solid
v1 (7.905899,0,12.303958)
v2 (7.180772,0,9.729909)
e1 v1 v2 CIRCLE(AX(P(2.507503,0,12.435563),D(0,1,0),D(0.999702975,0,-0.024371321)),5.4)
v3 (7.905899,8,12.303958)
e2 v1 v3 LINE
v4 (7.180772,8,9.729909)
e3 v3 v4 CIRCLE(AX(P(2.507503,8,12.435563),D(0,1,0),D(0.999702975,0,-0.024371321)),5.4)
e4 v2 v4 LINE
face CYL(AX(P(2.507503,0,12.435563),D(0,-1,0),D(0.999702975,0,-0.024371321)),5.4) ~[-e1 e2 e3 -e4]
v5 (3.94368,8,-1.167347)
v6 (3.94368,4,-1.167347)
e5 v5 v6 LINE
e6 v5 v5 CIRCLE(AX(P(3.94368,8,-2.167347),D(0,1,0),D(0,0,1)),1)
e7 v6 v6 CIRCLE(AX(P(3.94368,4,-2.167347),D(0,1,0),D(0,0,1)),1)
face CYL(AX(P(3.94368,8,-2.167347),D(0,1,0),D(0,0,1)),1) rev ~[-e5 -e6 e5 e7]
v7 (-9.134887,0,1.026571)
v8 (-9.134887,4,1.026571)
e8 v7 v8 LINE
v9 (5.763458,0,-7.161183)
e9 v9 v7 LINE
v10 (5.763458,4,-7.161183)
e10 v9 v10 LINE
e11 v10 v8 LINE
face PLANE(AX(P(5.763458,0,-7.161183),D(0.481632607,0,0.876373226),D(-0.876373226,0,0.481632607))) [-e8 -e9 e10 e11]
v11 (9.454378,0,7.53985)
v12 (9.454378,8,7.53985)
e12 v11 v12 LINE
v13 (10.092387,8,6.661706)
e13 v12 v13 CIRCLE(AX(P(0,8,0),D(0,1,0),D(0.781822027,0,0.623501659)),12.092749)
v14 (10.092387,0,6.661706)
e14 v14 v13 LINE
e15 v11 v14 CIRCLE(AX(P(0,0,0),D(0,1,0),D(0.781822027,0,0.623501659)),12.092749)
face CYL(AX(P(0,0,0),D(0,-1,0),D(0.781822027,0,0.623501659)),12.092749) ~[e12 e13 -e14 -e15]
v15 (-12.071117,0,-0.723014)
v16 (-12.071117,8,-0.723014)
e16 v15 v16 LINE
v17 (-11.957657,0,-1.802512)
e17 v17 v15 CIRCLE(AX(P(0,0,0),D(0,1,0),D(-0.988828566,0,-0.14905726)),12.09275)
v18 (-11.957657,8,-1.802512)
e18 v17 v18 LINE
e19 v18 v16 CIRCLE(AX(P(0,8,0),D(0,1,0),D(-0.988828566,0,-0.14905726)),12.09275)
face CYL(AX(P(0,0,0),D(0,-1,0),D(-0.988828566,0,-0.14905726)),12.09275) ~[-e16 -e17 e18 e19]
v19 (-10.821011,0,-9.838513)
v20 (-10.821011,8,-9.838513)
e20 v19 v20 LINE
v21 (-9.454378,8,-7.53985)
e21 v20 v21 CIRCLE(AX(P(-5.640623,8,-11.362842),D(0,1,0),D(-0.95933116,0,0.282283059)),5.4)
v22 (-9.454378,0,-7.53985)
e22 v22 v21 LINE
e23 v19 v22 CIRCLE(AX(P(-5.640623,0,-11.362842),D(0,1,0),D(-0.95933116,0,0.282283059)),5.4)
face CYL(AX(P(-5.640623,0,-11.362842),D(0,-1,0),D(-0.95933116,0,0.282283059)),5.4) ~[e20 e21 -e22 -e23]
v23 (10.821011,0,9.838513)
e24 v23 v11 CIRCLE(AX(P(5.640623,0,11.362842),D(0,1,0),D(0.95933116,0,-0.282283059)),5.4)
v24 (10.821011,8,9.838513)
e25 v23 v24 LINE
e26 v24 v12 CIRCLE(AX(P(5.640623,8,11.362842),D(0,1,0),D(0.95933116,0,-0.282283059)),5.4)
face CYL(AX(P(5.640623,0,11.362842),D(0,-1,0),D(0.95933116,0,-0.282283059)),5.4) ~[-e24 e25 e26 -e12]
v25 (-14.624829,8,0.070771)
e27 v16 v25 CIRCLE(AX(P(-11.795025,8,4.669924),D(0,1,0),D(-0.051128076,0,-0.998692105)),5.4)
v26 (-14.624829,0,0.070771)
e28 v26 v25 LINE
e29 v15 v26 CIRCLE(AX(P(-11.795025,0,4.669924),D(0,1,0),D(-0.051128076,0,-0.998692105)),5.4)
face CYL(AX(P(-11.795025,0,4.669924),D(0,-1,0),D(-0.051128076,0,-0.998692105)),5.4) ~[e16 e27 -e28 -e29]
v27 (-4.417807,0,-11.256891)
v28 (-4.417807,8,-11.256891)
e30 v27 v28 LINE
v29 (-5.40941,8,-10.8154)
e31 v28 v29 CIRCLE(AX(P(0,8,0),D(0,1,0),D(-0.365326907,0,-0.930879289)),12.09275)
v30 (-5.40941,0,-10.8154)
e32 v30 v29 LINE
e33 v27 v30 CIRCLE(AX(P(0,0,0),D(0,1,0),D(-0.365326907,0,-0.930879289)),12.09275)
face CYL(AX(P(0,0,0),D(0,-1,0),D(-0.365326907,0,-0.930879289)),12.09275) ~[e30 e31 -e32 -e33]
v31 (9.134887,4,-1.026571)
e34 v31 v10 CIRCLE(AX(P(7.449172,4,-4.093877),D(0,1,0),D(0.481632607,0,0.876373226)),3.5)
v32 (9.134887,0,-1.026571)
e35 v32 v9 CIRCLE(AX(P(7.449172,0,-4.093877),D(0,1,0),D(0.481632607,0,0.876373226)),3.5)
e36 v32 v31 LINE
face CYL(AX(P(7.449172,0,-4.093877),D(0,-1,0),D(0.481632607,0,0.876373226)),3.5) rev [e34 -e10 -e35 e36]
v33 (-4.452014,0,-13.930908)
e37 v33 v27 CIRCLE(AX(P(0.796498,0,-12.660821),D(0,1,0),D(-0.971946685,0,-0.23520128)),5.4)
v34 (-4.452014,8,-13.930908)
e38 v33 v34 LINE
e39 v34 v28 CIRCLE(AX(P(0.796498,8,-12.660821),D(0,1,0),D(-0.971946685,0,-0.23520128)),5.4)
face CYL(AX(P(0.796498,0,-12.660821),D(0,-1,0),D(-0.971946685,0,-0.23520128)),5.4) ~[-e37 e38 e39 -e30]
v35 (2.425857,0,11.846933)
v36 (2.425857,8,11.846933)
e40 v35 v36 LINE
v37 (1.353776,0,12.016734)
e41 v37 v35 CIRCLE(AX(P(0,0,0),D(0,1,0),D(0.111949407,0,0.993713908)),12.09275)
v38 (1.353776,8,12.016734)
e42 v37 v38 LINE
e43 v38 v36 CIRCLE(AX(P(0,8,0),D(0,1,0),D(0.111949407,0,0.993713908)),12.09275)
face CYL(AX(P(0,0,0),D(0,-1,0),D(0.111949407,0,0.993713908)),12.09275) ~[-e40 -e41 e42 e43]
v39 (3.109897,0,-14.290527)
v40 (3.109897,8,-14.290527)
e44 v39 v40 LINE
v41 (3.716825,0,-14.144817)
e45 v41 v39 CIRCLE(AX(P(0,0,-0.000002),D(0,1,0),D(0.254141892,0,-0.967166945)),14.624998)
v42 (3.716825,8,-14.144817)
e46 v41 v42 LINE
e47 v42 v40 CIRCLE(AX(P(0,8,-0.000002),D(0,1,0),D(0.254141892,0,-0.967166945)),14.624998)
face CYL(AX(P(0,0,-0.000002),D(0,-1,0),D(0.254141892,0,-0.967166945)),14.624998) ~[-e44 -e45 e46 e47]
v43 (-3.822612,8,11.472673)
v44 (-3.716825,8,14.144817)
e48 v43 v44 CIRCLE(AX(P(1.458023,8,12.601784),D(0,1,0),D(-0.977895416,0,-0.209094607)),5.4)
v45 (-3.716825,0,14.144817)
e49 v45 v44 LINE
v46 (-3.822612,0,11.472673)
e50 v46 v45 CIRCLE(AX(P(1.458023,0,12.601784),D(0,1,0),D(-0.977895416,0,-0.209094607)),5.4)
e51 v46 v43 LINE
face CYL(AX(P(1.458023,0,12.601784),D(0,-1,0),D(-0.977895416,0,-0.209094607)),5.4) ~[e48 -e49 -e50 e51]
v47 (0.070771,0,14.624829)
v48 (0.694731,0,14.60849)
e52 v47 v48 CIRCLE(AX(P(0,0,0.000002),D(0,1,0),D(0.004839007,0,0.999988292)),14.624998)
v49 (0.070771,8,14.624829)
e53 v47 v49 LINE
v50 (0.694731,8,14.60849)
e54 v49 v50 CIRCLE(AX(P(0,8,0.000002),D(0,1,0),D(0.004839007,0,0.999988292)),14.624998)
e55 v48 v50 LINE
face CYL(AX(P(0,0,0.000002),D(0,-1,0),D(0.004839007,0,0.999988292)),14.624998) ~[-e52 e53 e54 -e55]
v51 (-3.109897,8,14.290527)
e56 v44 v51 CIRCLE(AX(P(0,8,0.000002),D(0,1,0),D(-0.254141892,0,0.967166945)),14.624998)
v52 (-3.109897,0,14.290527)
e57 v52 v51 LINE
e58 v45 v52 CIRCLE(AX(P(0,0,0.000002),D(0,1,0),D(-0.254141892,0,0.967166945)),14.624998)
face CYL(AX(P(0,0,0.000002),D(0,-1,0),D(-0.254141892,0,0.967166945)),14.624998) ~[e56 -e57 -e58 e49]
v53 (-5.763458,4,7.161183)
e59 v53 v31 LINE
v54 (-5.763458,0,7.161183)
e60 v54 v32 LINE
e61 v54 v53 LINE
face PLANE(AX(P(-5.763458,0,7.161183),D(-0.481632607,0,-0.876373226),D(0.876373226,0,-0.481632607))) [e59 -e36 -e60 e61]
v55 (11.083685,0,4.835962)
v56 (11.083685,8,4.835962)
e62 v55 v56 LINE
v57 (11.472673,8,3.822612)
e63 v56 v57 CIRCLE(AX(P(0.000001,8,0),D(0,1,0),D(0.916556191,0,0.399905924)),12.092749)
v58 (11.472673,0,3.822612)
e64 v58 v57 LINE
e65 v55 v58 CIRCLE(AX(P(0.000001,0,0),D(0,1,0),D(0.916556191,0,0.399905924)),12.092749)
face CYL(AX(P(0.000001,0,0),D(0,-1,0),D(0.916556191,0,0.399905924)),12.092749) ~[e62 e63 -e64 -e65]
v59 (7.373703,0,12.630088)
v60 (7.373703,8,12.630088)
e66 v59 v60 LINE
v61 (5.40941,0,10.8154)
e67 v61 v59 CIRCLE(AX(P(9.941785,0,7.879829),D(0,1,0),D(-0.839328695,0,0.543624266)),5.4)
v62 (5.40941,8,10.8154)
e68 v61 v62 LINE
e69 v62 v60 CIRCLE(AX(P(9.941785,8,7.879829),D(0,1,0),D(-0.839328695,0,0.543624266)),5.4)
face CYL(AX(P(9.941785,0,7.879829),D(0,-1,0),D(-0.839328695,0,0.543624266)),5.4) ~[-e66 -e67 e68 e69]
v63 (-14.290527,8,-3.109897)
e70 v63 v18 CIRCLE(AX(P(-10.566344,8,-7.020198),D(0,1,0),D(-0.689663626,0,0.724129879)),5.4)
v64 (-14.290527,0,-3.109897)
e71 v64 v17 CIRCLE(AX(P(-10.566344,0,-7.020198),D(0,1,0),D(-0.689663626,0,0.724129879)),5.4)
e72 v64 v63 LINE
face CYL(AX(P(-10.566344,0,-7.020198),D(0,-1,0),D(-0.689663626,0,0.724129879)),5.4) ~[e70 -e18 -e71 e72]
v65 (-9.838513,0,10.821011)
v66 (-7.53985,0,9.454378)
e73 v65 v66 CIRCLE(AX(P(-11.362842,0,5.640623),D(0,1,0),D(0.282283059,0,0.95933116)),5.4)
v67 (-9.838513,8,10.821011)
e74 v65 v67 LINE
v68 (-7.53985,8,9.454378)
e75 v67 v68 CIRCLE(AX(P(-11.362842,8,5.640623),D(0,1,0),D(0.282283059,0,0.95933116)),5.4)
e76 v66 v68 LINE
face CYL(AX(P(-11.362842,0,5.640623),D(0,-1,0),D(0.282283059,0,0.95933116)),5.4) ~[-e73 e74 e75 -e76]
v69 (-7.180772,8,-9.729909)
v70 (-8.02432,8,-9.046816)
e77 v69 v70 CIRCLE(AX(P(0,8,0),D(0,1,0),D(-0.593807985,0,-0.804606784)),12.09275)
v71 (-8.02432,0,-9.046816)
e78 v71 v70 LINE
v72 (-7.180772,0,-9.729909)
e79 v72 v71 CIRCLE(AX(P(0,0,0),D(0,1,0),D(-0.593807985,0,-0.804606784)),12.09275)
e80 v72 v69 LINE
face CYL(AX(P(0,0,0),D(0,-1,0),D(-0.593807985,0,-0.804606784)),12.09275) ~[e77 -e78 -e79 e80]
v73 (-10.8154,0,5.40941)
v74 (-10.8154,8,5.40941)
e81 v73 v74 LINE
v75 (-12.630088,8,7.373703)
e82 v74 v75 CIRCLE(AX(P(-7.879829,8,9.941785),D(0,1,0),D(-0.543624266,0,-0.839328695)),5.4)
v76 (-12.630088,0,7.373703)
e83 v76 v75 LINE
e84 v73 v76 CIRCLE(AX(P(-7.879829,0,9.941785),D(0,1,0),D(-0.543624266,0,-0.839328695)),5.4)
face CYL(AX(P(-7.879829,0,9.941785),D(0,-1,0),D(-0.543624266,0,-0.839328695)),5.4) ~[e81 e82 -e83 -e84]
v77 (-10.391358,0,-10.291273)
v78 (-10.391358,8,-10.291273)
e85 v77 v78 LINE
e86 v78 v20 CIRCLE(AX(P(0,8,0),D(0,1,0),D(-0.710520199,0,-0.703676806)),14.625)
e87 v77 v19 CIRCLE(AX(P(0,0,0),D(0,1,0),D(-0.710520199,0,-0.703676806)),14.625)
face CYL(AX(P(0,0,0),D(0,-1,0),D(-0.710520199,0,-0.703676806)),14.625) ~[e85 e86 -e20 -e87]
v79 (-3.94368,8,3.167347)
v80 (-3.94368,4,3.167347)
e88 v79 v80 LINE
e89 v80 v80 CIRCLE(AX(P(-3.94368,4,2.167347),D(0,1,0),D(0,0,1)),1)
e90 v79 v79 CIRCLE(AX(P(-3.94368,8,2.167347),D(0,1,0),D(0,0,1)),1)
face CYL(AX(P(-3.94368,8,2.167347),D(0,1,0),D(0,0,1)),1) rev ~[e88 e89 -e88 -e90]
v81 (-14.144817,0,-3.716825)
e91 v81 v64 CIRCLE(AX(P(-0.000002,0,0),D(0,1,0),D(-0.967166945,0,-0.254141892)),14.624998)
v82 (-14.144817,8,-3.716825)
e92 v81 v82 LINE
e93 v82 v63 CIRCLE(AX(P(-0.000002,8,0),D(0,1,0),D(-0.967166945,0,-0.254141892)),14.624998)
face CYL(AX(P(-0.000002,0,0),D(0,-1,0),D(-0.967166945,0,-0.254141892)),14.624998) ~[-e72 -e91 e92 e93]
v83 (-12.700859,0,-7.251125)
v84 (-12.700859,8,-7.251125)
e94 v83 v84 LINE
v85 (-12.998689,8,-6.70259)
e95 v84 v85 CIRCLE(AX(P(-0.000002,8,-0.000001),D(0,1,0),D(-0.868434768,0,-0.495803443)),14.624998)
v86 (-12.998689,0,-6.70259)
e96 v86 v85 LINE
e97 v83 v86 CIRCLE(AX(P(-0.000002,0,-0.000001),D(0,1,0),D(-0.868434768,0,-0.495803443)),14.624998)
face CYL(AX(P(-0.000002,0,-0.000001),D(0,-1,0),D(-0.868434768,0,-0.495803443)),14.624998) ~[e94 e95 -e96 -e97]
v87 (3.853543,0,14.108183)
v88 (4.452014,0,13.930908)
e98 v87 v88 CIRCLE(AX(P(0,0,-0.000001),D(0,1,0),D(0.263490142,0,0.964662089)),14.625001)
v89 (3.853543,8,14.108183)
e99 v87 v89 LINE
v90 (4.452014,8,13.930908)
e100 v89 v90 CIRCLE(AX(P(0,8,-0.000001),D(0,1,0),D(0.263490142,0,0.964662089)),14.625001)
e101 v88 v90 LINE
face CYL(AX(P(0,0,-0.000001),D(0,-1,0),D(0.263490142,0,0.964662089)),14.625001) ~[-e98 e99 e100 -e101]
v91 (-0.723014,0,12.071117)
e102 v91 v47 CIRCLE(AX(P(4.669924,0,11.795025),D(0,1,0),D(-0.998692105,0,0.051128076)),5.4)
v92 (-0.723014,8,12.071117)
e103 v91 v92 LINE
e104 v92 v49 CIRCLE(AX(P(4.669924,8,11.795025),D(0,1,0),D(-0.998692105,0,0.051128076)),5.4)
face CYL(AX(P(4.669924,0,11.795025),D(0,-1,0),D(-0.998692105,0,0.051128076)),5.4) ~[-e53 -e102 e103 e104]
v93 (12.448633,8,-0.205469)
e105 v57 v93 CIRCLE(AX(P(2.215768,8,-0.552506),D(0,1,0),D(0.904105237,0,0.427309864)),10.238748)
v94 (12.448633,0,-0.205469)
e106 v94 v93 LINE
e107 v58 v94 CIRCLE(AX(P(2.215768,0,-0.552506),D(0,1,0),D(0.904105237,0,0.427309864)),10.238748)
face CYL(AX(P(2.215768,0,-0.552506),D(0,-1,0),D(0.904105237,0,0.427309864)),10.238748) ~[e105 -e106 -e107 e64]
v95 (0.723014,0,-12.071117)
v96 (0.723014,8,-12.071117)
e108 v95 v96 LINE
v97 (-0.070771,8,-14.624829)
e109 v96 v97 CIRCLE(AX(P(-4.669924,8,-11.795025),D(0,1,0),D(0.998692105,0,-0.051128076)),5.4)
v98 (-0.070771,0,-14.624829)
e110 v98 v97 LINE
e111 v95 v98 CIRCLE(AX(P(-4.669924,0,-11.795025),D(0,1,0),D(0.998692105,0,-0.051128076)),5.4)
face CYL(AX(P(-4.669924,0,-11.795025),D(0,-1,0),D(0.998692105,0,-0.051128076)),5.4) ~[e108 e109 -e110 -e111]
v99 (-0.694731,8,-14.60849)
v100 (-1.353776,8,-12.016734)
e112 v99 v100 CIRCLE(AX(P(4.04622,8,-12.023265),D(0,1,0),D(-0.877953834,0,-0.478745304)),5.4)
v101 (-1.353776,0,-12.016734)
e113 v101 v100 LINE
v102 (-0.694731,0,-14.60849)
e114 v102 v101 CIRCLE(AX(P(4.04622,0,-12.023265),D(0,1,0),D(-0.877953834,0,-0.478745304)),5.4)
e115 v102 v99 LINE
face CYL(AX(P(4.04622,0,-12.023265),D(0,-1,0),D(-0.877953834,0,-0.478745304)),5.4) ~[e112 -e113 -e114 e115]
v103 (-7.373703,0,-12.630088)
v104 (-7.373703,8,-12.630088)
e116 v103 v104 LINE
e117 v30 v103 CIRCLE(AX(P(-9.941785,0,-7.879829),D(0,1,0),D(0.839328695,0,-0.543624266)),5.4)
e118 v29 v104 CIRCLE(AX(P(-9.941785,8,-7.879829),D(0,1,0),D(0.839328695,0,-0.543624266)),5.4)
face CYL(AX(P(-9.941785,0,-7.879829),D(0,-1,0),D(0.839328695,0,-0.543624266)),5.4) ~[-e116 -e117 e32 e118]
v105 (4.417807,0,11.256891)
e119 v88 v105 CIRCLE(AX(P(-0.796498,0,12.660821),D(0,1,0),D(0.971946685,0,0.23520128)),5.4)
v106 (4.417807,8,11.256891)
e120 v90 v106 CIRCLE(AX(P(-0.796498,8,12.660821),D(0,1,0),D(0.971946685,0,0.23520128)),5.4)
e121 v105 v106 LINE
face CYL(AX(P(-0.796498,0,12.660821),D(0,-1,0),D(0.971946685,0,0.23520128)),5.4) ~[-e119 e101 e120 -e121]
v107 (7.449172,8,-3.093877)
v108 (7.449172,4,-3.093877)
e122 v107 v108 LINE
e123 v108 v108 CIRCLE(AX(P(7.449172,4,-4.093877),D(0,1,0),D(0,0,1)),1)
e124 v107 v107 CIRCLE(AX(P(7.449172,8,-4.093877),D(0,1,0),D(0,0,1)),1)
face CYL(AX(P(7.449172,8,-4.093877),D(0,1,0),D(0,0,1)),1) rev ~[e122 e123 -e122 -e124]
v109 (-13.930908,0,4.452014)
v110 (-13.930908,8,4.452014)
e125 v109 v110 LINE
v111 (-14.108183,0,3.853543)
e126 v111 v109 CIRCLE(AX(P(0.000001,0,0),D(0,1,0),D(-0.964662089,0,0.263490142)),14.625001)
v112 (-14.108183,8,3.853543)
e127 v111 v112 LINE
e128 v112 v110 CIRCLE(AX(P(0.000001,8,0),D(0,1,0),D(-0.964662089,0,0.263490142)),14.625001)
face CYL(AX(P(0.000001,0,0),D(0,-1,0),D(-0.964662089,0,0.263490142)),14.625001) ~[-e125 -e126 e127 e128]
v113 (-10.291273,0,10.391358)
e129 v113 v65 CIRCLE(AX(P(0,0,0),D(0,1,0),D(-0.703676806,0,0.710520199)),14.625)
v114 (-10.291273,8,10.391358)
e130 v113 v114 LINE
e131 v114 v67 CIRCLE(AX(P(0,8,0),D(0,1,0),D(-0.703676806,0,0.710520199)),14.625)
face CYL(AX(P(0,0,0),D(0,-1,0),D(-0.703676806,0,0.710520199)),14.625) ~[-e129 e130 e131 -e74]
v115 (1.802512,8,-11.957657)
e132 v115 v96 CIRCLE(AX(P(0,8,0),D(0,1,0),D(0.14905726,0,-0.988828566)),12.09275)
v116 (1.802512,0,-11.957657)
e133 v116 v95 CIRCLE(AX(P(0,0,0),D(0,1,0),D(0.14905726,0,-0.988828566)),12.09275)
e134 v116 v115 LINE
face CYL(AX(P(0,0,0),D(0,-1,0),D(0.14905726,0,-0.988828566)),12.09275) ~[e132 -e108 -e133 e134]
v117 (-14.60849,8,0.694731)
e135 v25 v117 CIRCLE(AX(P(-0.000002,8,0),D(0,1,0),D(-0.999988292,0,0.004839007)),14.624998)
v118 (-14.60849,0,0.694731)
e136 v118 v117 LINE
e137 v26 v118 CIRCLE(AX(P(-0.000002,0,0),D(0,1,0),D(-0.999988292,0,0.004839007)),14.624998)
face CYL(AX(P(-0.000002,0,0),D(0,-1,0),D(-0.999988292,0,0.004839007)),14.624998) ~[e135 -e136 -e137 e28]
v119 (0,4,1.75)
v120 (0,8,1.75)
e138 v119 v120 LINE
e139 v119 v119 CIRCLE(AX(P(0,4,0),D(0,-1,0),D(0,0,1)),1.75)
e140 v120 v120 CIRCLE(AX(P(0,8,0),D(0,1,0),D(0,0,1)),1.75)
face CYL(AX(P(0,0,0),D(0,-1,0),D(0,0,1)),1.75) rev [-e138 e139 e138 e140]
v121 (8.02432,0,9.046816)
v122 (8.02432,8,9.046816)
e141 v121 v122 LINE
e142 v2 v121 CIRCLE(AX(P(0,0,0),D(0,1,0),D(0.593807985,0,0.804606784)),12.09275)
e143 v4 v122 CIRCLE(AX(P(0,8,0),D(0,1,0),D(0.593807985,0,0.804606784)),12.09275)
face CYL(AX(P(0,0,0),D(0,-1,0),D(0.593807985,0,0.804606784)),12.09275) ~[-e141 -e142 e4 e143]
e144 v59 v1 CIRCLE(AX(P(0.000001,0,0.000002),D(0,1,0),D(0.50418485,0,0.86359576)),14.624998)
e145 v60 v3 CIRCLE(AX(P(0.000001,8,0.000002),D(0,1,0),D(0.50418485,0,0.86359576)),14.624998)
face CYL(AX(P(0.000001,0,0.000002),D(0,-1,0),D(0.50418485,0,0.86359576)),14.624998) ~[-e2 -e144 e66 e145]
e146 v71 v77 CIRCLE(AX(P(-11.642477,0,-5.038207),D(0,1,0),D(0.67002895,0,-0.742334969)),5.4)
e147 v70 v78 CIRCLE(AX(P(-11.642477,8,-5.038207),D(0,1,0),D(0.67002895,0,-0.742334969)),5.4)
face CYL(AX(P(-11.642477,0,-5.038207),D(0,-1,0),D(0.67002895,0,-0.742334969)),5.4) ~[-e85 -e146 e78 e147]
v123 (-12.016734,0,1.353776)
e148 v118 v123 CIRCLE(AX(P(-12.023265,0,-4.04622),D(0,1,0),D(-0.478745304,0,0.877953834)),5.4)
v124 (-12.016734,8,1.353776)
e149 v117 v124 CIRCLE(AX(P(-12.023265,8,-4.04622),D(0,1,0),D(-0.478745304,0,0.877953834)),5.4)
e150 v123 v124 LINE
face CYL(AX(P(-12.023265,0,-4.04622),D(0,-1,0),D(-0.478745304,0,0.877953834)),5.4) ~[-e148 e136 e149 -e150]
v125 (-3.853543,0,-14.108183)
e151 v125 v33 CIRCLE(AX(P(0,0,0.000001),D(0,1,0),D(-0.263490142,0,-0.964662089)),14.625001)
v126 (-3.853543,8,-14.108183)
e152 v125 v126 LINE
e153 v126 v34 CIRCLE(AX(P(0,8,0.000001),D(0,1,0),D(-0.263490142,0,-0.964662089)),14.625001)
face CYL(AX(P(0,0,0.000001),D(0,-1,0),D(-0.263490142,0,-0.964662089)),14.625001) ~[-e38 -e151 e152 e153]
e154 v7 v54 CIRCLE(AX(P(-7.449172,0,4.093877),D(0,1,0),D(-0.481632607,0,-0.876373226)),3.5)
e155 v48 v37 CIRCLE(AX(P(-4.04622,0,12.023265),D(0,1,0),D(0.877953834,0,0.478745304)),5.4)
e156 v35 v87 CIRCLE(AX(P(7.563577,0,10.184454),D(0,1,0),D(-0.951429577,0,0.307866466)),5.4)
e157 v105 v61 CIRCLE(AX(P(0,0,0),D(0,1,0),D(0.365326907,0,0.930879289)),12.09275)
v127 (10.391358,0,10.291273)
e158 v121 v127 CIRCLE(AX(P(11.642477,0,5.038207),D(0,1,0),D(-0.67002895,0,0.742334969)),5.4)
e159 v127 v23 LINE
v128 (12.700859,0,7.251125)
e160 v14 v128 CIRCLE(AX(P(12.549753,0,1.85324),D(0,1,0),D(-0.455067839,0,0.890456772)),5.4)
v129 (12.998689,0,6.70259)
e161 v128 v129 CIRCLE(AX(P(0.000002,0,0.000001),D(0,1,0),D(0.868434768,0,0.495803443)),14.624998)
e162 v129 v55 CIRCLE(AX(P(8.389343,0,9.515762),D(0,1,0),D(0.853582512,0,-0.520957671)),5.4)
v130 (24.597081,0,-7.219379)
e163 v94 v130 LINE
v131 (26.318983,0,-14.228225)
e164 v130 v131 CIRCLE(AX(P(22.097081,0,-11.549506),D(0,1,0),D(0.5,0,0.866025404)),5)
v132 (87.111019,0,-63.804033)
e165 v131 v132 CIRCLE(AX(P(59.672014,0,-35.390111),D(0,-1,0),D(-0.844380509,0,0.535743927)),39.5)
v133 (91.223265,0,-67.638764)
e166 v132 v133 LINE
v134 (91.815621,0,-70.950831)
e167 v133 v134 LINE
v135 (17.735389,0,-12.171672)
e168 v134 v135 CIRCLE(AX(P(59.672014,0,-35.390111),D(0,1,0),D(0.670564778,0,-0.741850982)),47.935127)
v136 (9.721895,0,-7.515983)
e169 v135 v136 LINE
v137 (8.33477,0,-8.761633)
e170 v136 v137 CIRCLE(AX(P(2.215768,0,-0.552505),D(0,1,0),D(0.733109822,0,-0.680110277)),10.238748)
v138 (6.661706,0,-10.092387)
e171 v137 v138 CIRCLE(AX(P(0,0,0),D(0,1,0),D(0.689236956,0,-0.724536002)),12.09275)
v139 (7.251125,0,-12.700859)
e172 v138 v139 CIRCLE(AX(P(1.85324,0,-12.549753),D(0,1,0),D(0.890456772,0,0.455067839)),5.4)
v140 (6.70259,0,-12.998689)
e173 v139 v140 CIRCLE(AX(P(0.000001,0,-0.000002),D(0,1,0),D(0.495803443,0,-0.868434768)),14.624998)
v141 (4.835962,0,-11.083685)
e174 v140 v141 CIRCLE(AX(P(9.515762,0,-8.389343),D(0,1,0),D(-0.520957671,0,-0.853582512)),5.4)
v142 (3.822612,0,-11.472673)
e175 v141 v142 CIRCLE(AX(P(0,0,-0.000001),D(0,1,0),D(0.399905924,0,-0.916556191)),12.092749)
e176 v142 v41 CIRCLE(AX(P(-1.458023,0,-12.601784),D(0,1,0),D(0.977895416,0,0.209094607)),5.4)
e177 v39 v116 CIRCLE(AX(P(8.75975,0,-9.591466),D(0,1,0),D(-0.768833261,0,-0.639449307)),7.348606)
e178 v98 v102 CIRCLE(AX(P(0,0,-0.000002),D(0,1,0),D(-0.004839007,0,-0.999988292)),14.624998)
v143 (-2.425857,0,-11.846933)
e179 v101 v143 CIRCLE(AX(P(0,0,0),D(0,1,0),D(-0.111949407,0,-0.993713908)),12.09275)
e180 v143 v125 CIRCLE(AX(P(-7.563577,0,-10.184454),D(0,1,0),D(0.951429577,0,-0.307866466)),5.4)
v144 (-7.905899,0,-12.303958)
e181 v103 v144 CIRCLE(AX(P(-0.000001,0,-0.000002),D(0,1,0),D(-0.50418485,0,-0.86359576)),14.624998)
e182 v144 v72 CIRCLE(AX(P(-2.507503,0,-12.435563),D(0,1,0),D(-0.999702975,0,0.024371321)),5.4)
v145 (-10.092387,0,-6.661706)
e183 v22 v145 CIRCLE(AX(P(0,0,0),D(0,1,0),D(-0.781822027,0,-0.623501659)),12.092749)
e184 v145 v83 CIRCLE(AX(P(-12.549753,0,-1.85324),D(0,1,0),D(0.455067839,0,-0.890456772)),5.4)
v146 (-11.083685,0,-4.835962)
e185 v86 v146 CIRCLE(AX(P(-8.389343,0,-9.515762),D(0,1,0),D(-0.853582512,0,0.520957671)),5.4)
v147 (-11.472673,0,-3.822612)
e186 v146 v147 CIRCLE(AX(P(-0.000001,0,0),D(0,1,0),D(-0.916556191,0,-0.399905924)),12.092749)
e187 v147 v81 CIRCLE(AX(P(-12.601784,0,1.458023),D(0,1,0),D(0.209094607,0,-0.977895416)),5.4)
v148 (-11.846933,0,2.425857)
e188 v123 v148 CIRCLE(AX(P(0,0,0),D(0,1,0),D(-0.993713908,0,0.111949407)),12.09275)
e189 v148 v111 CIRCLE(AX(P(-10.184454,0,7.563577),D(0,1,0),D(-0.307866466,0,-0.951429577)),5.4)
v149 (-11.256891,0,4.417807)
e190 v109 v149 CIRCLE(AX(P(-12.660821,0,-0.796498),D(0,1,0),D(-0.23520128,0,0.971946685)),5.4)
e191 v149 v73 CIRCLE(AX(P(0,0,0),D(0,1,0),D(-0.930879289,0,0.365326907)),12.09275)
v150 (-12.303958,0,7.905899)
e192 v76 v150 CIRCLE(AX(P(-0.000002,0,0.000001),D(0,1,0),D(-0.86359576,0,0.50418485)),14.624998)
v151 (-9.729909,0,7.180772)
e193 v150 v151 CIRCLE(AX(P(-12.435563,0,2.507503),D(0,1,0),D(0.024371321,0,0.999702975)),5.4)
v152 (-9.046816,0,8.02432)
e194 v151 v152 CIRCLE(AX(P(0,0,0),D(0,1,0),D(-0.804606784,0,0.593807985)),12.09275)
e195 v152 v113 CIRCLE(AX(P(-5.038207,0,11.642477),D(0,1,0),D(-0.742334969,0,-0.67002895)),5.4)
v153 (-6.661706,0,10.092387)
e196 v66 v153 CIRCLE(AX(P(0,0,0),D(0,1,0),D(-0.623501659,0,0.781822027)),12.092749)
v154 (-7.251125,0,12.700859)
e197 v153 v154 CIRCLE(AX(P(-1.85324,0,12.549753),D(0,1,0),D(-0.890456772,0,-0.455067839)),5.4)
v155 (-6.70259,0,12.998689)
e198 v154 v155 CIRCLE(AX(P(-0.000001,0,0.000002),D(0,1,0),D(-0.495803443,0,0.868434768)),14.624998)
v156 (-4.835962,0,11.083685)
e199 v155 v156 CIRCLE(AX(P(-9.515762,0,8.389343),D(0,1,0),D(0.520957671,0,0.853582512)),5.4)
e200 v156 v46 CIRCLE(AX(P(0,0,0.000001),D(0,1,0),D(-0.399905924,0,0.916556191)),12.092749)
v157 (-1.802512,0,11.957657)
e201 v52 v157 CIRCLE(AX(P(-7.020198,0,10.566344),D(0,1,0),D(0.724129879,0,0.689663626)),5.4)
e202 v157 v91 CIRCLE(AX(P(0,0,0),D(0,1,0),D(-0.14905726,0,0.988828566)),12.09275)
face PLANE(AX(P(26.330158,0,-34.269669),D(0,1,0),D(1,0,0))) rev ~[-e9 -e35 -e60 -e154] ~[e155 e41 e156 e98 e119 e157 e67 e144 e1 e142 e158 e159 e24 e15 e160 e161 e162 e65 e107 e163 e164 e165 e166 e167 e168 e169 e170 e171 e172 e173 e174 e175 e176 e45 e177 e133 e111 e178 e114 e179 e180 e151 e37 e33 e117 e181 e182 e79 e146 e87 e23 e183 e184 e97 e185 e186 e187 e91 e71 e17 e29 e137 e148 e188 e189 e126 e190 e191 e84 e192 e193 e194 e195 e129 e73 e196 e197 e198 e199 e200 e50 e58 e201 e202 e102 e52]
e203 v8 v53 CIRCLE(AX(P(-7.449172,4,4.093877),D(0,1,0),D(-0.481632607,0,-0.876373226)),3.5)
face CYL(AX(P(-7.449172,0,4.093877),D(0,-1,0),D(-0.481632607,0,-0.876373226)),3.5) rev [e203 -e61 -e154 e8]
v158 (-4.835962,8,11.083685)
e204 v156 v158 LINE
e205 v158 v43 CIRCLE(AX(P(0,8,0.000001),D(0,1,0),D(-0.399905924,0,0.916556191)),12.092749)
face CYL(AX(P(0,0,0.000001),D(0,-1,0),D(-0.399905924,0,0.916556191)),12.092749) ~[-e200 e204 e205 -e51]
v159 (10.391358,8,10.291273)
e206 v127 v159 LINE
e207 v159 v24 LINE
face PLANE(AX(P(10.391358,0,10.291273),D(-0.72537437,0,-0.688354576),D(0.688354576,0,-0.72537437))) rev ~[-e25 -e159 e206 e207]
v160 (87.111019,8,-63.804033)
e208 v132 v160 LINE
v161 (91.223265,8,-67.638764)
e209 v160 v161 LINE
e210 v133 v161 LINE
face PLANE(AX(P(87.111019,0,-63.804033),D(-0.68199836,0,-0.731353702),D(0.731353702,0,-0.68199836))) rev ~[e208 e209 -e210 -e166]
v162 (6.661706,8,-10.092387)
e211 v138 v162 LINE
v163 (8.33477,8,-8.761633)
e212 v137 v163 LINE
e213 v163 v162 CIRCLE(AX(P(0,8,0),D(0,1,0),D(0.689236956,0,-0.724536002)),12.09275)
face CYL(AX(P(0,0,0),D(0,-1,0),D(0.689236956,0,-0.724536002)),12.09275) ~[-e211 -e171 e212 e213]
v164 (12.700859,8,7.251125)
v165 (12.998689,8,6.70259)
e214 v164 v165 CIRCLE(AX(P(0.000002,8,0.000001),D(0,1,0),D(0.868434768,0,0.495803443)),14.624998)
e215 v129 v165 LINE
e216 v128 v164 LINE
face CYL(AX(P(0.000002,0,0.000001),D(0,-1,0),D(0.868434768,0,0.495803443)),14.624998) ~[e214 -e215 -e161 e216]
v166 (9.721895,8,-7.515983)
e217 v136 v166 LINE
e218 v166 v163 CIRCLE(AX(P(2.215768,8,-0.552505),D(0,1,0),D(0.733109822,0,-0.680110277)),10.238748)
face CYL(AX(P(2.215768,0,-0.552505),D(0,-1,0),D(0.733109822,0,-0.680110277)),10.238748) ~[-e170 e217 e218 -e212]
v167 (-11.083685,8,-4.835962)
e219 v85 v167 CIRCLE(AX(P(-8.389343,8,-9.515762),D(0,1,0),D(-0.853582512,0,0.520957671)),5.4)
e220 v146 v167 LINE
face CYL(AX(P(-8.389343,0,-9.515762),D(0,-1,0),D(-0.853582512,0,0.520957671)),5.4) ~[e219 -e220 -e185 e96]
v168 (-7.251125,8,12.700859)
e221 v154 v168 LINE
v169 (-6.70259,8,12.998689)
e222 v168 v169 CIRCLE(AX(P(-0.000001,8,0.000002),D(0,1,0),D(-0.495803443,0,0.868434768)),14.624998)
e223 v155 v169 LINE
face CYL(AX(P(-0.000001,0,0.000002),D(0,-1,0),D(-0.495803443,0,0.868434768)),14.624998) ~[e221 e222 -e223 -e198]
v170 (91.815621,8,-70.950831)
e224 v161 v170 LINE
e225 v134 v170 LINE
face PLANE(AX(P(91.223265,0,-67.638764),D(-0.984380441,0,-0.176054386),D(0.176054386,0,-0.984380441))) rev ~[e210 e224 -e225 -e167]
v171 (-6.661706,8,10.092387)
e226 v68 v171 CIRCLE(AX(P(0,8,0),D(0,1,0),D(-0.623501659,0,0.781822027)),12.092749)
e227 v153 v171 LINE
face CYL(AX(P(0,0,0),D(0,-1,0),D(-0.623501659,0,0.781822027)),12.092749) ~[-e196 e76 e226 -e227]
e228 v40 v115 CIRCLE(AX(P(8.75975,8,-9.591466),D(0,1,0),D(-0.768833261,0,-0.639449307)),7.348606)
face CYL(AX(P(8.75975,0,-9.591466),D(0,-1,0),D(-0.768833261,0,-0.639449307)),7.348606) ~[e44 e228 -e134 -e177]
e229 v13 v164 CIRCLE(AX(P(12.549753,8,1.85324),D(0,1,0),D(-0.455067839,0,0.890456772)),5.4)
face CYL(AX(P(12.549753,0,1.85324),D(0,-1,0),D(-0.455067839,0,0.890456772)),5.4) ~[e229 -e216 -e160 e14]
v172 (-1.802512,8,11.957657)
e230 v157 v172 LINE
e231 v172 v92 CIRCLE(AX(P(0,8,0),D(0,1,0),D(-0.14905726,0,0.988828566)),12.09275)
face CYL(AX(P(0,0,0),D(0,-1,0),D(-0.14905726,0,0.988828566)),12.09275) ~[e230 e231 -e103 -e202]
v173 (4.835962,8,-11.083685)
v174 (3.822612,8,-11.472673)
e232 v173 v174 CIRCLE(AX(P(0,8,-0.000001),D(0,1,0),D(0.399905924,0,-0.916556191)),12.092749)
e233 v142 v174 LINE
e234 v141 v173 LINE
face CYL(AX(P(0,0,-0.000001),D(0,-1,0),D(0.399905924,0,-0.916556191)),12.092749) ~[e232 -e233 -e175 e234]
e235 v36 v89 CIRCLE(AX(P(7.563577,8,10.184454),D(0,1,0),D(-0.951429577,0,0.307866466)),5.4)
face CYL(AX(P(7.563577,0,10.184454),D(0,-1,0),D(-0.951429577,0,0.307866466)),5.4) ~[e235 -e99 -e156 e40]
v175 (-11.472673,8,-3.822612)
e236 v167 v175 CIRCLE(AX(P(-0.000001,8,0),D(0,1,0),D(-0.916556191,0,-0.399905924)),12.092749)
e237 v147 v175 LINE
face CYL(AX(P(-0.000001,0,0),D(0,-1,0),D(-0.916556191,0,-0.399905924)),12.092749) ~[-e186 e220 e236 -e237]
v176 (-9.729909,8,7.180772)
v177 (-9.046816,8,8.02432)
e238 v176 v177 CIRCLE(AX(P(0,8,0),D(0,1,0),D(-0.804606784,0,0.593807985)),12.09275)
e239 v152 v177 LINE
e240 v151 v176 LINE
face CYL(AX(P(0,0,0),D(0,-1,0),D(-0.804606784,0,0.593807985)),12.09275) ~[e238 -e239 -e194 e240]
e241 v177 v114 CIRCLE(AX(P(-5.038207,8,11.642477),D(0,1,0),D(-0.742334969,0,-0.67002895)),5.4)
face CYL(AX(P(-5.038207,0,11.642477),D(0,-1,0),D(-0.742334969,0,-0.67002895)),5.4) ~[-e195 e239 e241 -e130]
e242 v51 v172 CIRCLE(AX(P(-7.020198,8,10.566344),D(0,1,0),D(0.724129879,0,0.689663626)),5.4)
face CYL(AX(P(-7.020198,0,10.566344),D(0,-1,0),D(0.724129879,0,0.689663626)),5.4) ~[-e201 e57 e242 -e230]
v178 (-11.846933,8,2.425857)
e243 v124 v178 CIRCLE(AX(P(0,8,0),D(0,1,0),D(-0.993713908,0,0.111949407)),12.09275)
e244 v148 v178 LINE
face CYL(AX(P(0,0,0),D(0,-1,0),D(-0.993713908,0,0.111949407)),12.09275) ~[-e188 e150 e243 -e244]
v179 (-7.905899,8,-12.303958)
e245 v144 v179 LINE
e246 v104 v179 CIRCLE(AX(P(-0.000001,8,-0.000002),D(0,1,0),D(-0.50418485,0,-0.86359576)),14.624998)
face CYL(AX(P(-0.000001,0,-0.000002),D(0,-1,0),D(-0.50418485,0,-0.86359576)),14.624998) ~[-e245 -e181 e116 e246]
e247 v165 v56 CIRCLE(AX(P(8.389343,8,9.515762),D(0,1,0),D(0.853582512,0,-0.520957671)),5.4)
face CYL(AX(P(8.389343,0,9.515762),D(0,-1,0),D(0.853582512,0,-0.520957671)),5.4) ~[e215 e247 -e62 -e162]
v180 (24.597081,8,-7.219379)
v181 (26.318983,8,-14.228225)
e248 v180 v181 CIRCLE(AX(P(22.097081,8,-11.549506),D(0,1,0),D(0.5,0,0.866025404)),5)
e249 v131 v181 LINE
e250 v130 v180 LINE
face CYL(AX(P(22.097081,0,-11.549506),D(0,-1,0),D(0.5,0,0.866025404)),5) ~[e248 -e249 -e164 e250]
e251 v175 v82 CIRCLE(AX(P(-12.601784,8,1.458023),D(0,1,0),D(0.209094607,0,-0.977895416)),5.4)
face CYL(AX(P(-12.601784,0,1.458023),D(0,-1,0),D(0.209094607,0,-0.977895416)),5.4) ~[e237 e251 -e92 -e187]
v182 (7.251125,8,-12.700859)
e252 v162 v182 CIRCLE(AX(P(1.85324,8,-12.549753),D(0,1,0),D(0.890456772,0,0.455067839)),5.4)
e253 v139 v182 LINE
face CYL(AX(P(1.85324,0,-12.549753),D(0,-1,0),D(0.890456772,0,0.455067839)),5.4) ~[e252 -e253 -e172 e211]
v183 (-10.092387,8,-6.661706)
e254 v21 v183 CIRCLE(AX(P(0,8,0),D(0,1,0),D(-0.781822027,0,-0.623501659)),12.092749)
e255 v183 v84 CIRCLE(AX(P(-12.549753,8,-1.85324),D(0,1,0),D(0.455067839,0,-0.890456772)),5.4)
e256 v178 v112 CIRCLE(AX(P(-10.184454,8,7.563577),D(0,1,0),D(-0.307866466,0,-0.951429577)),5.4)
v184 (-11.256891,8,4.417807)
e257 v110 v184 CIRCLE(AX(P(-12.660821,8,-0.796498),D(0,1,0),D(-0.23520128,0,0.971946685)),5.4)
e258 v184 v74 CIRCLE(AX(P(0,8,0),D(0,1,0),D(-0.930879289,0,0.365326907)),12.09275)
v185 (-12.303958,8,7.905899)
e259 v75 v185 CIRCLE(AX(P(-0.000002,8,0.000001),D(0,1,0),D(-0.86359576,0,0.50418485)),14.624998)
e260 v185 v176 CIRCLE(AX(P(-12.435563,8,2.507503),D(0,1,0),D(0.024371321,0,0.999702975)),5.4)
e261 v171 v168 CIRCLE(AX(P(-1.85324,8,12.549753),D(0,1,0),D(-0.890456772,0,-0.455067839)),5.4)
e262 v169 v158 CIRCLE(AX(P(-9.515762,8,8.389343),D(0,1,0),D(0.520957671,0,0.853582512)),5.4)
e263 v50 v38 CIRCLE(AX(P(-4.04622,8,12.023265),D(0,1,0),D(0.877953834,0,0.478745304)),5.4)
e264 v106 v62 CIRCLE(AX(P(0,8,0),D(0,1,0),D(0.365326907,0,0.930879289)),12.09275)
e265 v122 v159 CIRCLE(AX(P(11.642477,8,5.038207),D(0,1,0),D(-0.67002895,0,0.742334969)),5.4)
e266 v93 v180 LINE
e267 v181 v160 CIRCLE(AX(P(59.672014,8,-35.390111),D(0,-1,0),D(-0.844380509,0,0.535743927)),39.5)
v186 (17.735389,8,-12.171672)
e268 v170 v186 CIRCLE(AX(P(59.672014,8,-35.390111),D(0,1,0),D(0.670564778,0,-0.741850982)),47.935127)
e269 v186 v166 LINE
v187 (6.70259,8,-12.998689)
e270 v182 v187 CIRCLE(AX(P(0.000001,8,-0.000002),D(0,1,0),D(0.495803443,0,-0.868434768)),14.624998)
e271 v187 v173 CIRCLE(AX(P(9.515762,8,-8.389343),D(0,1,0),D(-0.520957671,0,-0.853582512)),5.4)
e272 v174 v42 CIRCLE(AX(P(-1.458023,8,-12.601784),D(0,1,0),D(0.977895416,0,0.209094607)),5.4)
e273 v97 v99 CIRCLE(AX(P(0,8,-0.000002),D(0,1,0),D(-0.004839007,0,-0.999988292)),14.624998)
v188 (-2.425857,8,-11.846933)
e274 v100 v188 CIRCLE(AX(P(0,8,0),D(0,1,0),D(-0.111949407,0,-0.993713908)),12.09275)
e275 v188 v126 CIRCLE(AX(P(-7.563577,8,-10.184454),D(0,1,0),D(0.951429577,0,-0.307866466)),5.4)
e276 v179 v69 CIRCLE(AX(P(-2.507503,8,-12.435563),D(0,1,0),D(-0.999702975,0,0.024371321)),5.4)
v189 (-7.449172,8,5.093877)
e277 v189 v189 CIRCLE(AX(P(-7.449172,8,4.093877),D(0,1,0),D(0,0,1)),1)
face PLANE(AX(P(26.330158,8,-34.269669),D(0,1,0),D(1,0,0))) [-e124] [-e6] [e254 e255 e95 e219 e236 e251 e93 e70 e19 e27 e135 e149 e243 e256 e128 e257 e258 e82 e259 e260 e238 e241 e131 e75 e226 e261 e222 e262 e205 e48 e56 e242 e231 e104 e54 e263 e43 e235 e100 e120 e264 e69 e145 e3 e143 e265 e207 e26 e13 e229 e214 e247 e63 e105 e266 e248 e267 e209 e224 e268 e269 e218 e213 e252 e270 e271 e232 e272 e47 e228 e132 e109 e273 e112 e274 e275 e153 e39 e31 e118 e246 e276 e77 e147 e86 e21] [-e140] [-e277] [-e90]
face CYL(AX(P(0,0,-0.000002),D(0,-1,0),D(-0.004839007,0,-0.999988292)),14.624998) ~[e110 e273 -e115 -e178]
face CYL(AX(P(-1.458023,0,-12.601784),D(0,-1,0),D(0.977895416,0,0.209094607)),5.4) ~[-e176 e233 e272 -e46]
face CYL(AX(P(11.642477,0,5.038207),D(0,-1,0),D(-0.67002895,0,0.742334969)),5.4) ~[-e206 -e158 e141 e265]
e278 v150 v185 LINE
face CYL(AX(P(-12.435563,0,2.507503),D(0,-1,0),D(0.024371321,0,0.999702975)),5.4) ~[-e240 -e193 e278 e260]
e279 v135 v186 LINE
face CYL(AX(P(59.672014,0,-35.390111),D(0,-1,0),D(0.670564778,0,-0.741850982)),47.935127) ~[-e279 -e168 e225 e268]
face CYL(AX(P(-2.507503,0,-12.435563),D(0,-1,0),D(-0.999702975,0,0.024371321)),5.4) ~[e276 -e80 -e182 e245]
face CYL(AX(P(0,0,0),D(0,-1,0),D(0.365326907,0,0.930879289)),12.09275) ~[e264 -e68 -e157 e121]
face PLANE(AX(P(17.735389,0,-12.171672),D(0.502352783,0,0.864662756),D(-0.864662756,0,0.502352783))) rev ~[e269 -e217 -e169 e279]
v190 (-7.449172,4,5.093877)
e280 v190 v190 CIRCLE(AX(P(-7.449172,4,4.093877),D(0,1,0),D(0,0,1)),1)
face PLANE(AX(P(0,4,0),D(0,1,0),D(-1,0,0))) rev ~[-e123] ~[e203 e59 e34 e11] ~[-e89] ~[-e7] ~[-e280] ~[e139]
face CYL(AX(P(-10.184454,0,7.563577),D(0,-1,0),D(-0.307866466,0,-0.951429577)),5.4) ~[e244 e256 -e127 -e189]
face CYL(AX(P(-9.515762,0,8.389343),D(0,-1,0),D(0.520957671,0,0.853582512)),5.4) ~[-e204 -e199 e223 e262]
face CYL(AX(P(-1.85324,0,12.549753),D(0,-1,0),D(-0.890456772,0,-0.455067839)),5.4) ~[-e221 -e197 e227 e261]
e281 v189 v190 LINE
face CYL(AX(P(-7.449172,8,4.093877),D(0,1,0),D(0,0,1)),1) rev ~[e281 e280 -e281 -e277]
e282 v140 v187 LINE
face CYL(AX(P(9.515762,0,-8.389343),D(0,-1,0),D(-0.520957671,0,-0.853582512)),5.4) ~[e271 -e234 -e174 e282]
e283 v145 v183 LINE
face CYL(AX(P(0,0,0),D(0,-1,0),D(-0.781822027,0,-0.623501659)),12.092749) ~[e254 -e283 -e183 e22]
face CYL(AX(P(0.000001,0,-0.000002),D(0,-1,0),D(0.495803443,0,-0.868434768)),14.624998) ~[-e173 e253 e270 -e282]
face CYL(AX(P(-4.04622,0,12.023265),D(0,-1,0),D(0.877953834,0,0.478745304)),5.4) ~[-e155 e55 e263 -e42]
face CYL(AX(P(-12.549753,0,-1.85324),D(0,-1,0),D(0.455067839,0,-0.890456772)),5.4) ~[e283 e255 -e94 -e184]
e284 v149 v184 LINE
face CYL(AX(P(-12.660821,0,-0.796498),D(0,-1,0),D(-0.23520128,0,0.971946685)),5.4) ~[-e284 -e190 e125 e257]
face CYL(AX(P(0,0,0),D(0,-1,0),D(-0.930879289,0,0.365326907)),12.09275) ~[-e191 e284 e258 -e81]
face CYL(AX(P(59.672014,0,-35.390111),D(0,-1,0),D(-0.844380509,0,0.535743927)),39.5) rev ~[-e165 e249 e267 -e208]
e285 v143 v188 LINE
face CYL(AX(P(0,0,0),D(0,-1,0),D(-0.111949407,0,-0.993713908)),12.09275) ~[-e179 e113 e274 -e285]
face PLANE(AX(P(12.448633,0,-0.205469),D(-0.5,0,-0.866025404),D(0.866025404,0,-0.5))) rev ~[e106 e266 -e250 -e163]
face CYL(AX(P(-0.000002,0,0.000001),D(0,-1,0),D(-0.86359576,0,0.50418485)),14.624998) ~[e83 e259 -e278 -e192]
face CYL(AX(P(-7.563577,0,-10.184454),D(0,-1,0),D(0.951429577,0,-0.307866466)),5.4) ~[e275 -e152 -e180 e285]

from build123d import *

# Parameters (mm, degrees)
CROQUIS3_R              = 1.75
SALIENTE_EXTRUIR2_DEPTH = 8
CROQUIS4_R              = 1
CORTAR_EXTRUIR1_DEPTH   = 8
CORTAR_EXTRUIR2_DEPTH   = 4


with BuildPart() as part:
    # Croquis3 → Saliente-Extruir2 (new body)
    with BuildSketch(Plane(origin=(0, 0, 0), x_dir=(1, 0, 0), z_dir=(0, 1, 0))):
        with BuildLine():
            Line((87.111019212, 63.804032696), (91.223264764, 67.638763711))
            Line((91.223264764, 67.638763711), (91.815621149, 70.950831381))
            ThreePointArc((91.815621149, 70.950831381), (29.87732987, 72.940785596), (17.735388738, 12.171672472))
            Line((17.735388738, 12.171672472), (9.721894551, 7.515983209))
            ThreePointArc((9.721894551, 7.515983209), (9.056743368, 8.17044576), (8.33477019, 8.76163275))
            ThreePointArc((8.33477019, 8.76163275), (7.527702463, 9.464052948), (6.66170644, 10.092386728))
            ThreePointArc((6.66170644, 10.092386728), (7.120443737, 11.359558341), (7.251125308, 12.700858505))
            ThreePointArc((7.251125308, 12.700858505), (6.978446869, 12.852700273), (6.702590326, 12.9986887))
            ThreePointArc((6.702590326, 12.9986887), (5.648855639, 12.158565486), (4.835962342, 11.083684892))
            ThreePointArc((4.835962342, 11.083684892), (4.333654022, 11.289554703), (3.822612402, 11.472673489))
            ThreePointArc((3.822612402, 11.472673489), (3.937750458, 12.815397225), (3.716825134, 14.144816574))
            ThreePointArc((3.716825134, 14.144816574), (3.414138446, 14.220910086), (3.109896902, 14.290527151))
            ThreePointArc((3.109896902, 14.290527151), (2.349191787, 13.184063868), (1.802512181, 11.957656643))
            ThreePointArc((1.802512181, 11.957656643), (1.264036574, 12.02650465), (0.723013645, 12.071116511))
            ThreePointArc((0.723013645, 12.071116511), (0.486705992, 13.397887968), (-0.07077053, 14.624828769))
            ThreePointArc((-0.07077053, 14.624828769), (-0.382837869, 14.619988378), (-0.694730857, 14.608489793))
            ThreePointArc((-0.694730857, 14.608489793), (-1.187230257, 13.354054404), (-1.353776206, 12.016733855))
            ThreePointArc((-1.353776206, 12.016733855), (-1.891722877, 11.943868181), (-2.425857296, 11.846932892))
            ThreePointArc((-2.425857296, 11.846932892), (-2.997506682, 13.067334786), (-3.8535433, 14.108183052))
            ThreePointArc((-3.8535433, 14.108183052), (-4.153724416, 14.022738622), (-4.452013856, 13.930907997))
            ThreePointArc((-4.452013856, 13.930907997), (-4.603059976, 12.591748233), (-4.417806982, 11.256890513))
            ThreePointArc((-4.417806982, 11.256890513), (-4.918564541, 11.047276833), (-5.409410071, 10.815400374))
            ThreePointArc((-5.409410071, 10.815400374), (-6.27744423, 11.846264333), (-7.373703462, 12.630087975))
            ThreePointArc((-7.373703462, 12.630087975), (-7.641541509, 12.469862404), (-7.905899467, 12.303957843))
            ThreePointArc((-7.905899467, 12.303957843), (-7.705198765, 10.971335229), (-7.180771513, 9.729908686))
            ThreePointArc((-7.180771513, 9.729908686), (-7.610214159, 9.397831825), (-8.02432049, 9.046816193))
            ThreePointArc((-8.02432049, 9.046816193), (-9.129584328, 9.817890543), (-10.391357918, 10.291273275))
            ThreePointArc((-10.391357918, 10.291273275), (-10.608600176, 10.06718567), (-10.821011096, 9.838513296))
            ThreePointArc((-10.821011096, 9.838513296), (-10.282240991, 8.60324386), (-9.454378332, 7.539849661))
            ThreePointArc((-9.454378332, 7.539849661), (-9.783240259, 7.10794011), (-10.092386728, 6.66170644))
            ThreePointArc((-10.092386728, 6.66170644), (-11.359558341, 7.120443737), (-12.700858505, 7.251125308))
            ThreePointArc((-12.700858505, 7.251125308), (-12.852700273, 6.978446869), (-12.9986887, 6.702590326))
            ThreePointArc((-12.9986887, 6.702590326), (-12.158565486, 5.648855639), (-11.083684892, 4.835962342))
            ThreePointArc((-11.083684892, 4.835962342), (-11.289554703, 4.333654022), (-11.472673489, 3.822612402))
            ThreePointArc((-11.472673489, 3.822612402), (-12.815397225, 3.937750458), (-14.144816574, 3.716825134))
            ThreePointArc((-14.144816574, 3.716825134), (-14.220910086, 3.414138446), (-14.290527151, 3.109896902))
            ThreePointArc((-14.290527151, 3.109896902), (-13.206303836, 2.309507242), (-11.957656643, 1.802512181))
            ThreePointArc((-11.957656643, 1.802512181), (-12.02650465, 1.264036574), (-12.071116511, 0.723013645))
            ThreePointArc((-12.071116511, 0.723013645), (-13.397887968, 0.486705992), (-14.624828769, -0.07077053))
            ThreePointArc((-14.624828769, -0.07077053), (-14.619988378, -0.382837869), (-14.608489793, -0.694730857))
            ThreePointArc((-14.608489793, -0.694730857), (-13.354054404, -1.187230257), (-12.016733855, -1.353776206))
            ThreePointArc((-12.016733855, -1.353776206), (-11.943868181, -1.891722877), (-11.846932892, -2.425857296))
            ThreePointArc((-11.846932892, -2.425857296), (-13.067334786, -2.997506682), (-14.108183052, -3.8535433))
            ThreePointArc((-14.108183052, -3.8535433), (-14.022738622, -4.153724416), (-13.930907997, -4.452013856))
            ThreePointArc((-13.930907997, -4.452013856), (-12.591748233, -4.603059976), (-11.256890513, -4.417806982))
            ThreePointArc((-11.256890513, -4.417806982), (-11.047276833, -4.918564541), (-10.815400374, -5.409410071))
            ThreePointArc((-10.815400374, -5.409410071), (-11.846264333, -6.27744423), (-12.630087975, -7.373703462))
            ThreePointArc((-12.630087975, -7.373703462), (-12.469862404, -7.641541509), (-12.303957843, -7.905899467))
            ThreePointArc((-12.303957843, -7.905899467), (-10.971335229, -7.705198765), (-9.729908686, -7.180771513))
            ThreePointArc((-9.729908686, -7.180771513), (-9.397831825, -7.610214159), (-9.046816193, -8.02432049))
            ThreePointArc((-9.046816193, -8.02432049), (-9.817890543, -9.129584328), (-10.291273275, -10.391357918))
            ThreePointArc((-10.291273275, -10.391357918), (-10.06718567, -10.608600176), (-9.838513296, -10.821011096))
            ThreePointArc((-9.838513296, -10.821011096), (-8.60324386, -10.282240991), (-7.539849661, -9.454378332))
            ThreePointArc((-7.539849661, -9.454378332), (-7.10794011, -9.783240259), (-6.66170644, -10.092386728))
            ThreePointArc((-6.66170644, -10.092386728), (-7.120443737, -11.359558341), (-7.251125308, -12.700858505))
            ThreePointArc((-7.251125308, -12.700858505), (-6.978446869, -12.852700273), (-6.702590326, -12.9986887))
            ThreePointArc((-6.702590326, -12.9986887), (-5.648855639, -12.158565486), (-4.835962342, -11.083684892))
            ThreePointArc((-4.835962342, -11.083684892), (-4.333654022, -11.289554703), (-3.822612402, -11.472673489))
            ThreePointArc((-3.822612402, -11.472673489), (-3.937750458, -12.815397225), (-3.716825134, -14.144816574))
            ThreePointArc((-3.716825134, -14.144816574), (-3.414138446, -14.220910086), (-3.109896902, -14.290527151))
            ThreePointArc((-3.109896902, -14.290527151), (-2.309507242, -13.206303836), (-1.802512181, -11.957656643))
            ThreePointArc((-1.802512181, -11.957656643), (-1.264036574, -12.02650465), (-0.723013645, -12.071116511))
            ThreePointArc((-0.723013645, -12.071116511), (-0.486705992, -13.397887968), (0.07077053, -14.624828769))
            ThreePointArc((0.07077053, -14.624828769), (0.382837869, -14.619988378), (0.694730857, -14.608489793))
            ThreePointArc((0.694730857, -14.608489793), (1.187230257, -13.354054404), (1.353776206, -12.016733855))
            ThreePointArc((1.353776206, -12.016733855), (1.891722877, -11.943868181), (2.425857296, -11.846932892))
            ThreePointArc((2.425857296, -11.846932892), (2.997506682, -13.067334786), (3.8535433, -14.108183052))
            ThreePointArc((3.8535433, -14.108183052), (4.153724416, -14.022738622), (4.452013856, -13.930907997))
            ThreePointArc((4.452013856, -13.930907997), (4.603059976, -12.591748233), (4.417806982, -11.256890513))
            ThreePointArc((4.417806982, -11.256890513), (4.918564541, -11.047276833), (5.409410071, -10.815400374))
            ThreePointArc((5.409410071, -10.815400374), (6.27744423, -11.846264333), (7.373703462, -12.630087975))
            ThreePointArc((7.373703462, -12.630087975), (7.641541509, -12.469862404), (7.905899467, -12.303957843))
            ThreePointArc((7.905899467, -12.303957843), (7.705198765, -10.971335229), (7.180771513, -9.729908686))
            ThreePointArc((7.180771513, -9.729908686), (7.610214159, -9.397831825), (8.02432049, -9.046816193))
            ThreePointArc((8.02432049, -9.046816193), (9.129584328, -9.817890543), (10.391357918, -10.291273275))
            Line((10.391357918, -10.291273275), (10.821011096, -9.838513296))
            ThreePointArc((10.821011096, -9.838513296), (10.282240991, -8.60324386), (9.454378332, -7.539849661))
            ThreePointArc((9.454378332, -7.539849661), (9.783240259, -7.10794011), (10.092386728, -6.66170644))
            ThreePointArc((10.092386728, -6.66170644), (11.359558341, -7.120443737), (12.700858505, -7.251125308))
            ThreePointArc((12.700858505, -7.251125308), (12.852700273, -6.978446869), (12.9986887, -6.702590326))
            ThreePointArc((12.9986887, -6.702590326), (12.158565486, -5.648855639), (11.083684892, -4.835962342))
            ThreePointArc((11.083684892, -4.835962342), (11.289554703, -4.333654022), (11.472673489, -3.822612402))
            ThreePointArc((11.472673489, -3.822612402), (12.166604466, -1.858471402), (12.448632794, 0.205469027))
            Line((12.448632794, 0.205469027), (24.597080908, 7.219378816))
            ThreePointArc((24.597080908, 7.219378816), (26.952693775, 10.356600271), (26.318983455, 14.228225469))
            ThreePointArc((26.318983455, 14.228225469), (34.708358258, 66.001642936), (87.111019212, 63.804032696))
        make_face()
        with Locations(Location((0, 0, 0), (0, 0, 270))):
            Circle(CROQUIS3_R, mode=Mode.SUBTRACT)
    extrude(amount=SALIENTE_EXTRUIR2_DEPTH)

    # Croquis4 → Cortar-Extruir1 (cut)
    with BuildSketch(Plane(origin=(0, 8, 0), x_dir=(1, 0, 0), z_dir=(0, 1, 0))):
        with Locations(Location((3.943679518, 2.167346732, 0), (0, 0, 270))):
            Circle(CROQUIS4_R)
        with Locations(Location((-3.943679518, -2.167346732, 0), (0, 0, 270))):
            Circle(CROQUIS4_R)
        with Locations(Location((7.449172424, 4.09387716, 0), (0, 0, 270))):
            Circle(CROQUIS4_R)
        with Locations(Location((-7.449172424, -4.09387716, 0), (0, 0, 270))):
            Circle(CROQUIS4_R)
    extrude(amount=-CORTAR_EXTRUIR1_DEPTH, mode=Mode.SUBTRACT)

    # Croquis5 → Cortar-Extruir2 (cut)
    with BuildSketch(Plane.XZ):
        with BuildLine():
            Line((-5.763458299, 7.161183452), (9.134886548, -1.026570868))
            ThreePointArc((9.134886548, -1.026570868), (10.516478716, -5.779591285), (5.763458299, -7.161183452))
            Line((5.763458299, -7.161183452), (-9.134886548, 1.026570868))
            ThreePointArc((-9.134886548, 1.026570868), (-10.516478716, 5.779591285), (-5.763458299, 7.161183452))
        make_face()
    extrude(amount=-CORTAR_EXTRUIR2_DEPTH, mode=Mode.SUBTRACT)


solid = part.part
